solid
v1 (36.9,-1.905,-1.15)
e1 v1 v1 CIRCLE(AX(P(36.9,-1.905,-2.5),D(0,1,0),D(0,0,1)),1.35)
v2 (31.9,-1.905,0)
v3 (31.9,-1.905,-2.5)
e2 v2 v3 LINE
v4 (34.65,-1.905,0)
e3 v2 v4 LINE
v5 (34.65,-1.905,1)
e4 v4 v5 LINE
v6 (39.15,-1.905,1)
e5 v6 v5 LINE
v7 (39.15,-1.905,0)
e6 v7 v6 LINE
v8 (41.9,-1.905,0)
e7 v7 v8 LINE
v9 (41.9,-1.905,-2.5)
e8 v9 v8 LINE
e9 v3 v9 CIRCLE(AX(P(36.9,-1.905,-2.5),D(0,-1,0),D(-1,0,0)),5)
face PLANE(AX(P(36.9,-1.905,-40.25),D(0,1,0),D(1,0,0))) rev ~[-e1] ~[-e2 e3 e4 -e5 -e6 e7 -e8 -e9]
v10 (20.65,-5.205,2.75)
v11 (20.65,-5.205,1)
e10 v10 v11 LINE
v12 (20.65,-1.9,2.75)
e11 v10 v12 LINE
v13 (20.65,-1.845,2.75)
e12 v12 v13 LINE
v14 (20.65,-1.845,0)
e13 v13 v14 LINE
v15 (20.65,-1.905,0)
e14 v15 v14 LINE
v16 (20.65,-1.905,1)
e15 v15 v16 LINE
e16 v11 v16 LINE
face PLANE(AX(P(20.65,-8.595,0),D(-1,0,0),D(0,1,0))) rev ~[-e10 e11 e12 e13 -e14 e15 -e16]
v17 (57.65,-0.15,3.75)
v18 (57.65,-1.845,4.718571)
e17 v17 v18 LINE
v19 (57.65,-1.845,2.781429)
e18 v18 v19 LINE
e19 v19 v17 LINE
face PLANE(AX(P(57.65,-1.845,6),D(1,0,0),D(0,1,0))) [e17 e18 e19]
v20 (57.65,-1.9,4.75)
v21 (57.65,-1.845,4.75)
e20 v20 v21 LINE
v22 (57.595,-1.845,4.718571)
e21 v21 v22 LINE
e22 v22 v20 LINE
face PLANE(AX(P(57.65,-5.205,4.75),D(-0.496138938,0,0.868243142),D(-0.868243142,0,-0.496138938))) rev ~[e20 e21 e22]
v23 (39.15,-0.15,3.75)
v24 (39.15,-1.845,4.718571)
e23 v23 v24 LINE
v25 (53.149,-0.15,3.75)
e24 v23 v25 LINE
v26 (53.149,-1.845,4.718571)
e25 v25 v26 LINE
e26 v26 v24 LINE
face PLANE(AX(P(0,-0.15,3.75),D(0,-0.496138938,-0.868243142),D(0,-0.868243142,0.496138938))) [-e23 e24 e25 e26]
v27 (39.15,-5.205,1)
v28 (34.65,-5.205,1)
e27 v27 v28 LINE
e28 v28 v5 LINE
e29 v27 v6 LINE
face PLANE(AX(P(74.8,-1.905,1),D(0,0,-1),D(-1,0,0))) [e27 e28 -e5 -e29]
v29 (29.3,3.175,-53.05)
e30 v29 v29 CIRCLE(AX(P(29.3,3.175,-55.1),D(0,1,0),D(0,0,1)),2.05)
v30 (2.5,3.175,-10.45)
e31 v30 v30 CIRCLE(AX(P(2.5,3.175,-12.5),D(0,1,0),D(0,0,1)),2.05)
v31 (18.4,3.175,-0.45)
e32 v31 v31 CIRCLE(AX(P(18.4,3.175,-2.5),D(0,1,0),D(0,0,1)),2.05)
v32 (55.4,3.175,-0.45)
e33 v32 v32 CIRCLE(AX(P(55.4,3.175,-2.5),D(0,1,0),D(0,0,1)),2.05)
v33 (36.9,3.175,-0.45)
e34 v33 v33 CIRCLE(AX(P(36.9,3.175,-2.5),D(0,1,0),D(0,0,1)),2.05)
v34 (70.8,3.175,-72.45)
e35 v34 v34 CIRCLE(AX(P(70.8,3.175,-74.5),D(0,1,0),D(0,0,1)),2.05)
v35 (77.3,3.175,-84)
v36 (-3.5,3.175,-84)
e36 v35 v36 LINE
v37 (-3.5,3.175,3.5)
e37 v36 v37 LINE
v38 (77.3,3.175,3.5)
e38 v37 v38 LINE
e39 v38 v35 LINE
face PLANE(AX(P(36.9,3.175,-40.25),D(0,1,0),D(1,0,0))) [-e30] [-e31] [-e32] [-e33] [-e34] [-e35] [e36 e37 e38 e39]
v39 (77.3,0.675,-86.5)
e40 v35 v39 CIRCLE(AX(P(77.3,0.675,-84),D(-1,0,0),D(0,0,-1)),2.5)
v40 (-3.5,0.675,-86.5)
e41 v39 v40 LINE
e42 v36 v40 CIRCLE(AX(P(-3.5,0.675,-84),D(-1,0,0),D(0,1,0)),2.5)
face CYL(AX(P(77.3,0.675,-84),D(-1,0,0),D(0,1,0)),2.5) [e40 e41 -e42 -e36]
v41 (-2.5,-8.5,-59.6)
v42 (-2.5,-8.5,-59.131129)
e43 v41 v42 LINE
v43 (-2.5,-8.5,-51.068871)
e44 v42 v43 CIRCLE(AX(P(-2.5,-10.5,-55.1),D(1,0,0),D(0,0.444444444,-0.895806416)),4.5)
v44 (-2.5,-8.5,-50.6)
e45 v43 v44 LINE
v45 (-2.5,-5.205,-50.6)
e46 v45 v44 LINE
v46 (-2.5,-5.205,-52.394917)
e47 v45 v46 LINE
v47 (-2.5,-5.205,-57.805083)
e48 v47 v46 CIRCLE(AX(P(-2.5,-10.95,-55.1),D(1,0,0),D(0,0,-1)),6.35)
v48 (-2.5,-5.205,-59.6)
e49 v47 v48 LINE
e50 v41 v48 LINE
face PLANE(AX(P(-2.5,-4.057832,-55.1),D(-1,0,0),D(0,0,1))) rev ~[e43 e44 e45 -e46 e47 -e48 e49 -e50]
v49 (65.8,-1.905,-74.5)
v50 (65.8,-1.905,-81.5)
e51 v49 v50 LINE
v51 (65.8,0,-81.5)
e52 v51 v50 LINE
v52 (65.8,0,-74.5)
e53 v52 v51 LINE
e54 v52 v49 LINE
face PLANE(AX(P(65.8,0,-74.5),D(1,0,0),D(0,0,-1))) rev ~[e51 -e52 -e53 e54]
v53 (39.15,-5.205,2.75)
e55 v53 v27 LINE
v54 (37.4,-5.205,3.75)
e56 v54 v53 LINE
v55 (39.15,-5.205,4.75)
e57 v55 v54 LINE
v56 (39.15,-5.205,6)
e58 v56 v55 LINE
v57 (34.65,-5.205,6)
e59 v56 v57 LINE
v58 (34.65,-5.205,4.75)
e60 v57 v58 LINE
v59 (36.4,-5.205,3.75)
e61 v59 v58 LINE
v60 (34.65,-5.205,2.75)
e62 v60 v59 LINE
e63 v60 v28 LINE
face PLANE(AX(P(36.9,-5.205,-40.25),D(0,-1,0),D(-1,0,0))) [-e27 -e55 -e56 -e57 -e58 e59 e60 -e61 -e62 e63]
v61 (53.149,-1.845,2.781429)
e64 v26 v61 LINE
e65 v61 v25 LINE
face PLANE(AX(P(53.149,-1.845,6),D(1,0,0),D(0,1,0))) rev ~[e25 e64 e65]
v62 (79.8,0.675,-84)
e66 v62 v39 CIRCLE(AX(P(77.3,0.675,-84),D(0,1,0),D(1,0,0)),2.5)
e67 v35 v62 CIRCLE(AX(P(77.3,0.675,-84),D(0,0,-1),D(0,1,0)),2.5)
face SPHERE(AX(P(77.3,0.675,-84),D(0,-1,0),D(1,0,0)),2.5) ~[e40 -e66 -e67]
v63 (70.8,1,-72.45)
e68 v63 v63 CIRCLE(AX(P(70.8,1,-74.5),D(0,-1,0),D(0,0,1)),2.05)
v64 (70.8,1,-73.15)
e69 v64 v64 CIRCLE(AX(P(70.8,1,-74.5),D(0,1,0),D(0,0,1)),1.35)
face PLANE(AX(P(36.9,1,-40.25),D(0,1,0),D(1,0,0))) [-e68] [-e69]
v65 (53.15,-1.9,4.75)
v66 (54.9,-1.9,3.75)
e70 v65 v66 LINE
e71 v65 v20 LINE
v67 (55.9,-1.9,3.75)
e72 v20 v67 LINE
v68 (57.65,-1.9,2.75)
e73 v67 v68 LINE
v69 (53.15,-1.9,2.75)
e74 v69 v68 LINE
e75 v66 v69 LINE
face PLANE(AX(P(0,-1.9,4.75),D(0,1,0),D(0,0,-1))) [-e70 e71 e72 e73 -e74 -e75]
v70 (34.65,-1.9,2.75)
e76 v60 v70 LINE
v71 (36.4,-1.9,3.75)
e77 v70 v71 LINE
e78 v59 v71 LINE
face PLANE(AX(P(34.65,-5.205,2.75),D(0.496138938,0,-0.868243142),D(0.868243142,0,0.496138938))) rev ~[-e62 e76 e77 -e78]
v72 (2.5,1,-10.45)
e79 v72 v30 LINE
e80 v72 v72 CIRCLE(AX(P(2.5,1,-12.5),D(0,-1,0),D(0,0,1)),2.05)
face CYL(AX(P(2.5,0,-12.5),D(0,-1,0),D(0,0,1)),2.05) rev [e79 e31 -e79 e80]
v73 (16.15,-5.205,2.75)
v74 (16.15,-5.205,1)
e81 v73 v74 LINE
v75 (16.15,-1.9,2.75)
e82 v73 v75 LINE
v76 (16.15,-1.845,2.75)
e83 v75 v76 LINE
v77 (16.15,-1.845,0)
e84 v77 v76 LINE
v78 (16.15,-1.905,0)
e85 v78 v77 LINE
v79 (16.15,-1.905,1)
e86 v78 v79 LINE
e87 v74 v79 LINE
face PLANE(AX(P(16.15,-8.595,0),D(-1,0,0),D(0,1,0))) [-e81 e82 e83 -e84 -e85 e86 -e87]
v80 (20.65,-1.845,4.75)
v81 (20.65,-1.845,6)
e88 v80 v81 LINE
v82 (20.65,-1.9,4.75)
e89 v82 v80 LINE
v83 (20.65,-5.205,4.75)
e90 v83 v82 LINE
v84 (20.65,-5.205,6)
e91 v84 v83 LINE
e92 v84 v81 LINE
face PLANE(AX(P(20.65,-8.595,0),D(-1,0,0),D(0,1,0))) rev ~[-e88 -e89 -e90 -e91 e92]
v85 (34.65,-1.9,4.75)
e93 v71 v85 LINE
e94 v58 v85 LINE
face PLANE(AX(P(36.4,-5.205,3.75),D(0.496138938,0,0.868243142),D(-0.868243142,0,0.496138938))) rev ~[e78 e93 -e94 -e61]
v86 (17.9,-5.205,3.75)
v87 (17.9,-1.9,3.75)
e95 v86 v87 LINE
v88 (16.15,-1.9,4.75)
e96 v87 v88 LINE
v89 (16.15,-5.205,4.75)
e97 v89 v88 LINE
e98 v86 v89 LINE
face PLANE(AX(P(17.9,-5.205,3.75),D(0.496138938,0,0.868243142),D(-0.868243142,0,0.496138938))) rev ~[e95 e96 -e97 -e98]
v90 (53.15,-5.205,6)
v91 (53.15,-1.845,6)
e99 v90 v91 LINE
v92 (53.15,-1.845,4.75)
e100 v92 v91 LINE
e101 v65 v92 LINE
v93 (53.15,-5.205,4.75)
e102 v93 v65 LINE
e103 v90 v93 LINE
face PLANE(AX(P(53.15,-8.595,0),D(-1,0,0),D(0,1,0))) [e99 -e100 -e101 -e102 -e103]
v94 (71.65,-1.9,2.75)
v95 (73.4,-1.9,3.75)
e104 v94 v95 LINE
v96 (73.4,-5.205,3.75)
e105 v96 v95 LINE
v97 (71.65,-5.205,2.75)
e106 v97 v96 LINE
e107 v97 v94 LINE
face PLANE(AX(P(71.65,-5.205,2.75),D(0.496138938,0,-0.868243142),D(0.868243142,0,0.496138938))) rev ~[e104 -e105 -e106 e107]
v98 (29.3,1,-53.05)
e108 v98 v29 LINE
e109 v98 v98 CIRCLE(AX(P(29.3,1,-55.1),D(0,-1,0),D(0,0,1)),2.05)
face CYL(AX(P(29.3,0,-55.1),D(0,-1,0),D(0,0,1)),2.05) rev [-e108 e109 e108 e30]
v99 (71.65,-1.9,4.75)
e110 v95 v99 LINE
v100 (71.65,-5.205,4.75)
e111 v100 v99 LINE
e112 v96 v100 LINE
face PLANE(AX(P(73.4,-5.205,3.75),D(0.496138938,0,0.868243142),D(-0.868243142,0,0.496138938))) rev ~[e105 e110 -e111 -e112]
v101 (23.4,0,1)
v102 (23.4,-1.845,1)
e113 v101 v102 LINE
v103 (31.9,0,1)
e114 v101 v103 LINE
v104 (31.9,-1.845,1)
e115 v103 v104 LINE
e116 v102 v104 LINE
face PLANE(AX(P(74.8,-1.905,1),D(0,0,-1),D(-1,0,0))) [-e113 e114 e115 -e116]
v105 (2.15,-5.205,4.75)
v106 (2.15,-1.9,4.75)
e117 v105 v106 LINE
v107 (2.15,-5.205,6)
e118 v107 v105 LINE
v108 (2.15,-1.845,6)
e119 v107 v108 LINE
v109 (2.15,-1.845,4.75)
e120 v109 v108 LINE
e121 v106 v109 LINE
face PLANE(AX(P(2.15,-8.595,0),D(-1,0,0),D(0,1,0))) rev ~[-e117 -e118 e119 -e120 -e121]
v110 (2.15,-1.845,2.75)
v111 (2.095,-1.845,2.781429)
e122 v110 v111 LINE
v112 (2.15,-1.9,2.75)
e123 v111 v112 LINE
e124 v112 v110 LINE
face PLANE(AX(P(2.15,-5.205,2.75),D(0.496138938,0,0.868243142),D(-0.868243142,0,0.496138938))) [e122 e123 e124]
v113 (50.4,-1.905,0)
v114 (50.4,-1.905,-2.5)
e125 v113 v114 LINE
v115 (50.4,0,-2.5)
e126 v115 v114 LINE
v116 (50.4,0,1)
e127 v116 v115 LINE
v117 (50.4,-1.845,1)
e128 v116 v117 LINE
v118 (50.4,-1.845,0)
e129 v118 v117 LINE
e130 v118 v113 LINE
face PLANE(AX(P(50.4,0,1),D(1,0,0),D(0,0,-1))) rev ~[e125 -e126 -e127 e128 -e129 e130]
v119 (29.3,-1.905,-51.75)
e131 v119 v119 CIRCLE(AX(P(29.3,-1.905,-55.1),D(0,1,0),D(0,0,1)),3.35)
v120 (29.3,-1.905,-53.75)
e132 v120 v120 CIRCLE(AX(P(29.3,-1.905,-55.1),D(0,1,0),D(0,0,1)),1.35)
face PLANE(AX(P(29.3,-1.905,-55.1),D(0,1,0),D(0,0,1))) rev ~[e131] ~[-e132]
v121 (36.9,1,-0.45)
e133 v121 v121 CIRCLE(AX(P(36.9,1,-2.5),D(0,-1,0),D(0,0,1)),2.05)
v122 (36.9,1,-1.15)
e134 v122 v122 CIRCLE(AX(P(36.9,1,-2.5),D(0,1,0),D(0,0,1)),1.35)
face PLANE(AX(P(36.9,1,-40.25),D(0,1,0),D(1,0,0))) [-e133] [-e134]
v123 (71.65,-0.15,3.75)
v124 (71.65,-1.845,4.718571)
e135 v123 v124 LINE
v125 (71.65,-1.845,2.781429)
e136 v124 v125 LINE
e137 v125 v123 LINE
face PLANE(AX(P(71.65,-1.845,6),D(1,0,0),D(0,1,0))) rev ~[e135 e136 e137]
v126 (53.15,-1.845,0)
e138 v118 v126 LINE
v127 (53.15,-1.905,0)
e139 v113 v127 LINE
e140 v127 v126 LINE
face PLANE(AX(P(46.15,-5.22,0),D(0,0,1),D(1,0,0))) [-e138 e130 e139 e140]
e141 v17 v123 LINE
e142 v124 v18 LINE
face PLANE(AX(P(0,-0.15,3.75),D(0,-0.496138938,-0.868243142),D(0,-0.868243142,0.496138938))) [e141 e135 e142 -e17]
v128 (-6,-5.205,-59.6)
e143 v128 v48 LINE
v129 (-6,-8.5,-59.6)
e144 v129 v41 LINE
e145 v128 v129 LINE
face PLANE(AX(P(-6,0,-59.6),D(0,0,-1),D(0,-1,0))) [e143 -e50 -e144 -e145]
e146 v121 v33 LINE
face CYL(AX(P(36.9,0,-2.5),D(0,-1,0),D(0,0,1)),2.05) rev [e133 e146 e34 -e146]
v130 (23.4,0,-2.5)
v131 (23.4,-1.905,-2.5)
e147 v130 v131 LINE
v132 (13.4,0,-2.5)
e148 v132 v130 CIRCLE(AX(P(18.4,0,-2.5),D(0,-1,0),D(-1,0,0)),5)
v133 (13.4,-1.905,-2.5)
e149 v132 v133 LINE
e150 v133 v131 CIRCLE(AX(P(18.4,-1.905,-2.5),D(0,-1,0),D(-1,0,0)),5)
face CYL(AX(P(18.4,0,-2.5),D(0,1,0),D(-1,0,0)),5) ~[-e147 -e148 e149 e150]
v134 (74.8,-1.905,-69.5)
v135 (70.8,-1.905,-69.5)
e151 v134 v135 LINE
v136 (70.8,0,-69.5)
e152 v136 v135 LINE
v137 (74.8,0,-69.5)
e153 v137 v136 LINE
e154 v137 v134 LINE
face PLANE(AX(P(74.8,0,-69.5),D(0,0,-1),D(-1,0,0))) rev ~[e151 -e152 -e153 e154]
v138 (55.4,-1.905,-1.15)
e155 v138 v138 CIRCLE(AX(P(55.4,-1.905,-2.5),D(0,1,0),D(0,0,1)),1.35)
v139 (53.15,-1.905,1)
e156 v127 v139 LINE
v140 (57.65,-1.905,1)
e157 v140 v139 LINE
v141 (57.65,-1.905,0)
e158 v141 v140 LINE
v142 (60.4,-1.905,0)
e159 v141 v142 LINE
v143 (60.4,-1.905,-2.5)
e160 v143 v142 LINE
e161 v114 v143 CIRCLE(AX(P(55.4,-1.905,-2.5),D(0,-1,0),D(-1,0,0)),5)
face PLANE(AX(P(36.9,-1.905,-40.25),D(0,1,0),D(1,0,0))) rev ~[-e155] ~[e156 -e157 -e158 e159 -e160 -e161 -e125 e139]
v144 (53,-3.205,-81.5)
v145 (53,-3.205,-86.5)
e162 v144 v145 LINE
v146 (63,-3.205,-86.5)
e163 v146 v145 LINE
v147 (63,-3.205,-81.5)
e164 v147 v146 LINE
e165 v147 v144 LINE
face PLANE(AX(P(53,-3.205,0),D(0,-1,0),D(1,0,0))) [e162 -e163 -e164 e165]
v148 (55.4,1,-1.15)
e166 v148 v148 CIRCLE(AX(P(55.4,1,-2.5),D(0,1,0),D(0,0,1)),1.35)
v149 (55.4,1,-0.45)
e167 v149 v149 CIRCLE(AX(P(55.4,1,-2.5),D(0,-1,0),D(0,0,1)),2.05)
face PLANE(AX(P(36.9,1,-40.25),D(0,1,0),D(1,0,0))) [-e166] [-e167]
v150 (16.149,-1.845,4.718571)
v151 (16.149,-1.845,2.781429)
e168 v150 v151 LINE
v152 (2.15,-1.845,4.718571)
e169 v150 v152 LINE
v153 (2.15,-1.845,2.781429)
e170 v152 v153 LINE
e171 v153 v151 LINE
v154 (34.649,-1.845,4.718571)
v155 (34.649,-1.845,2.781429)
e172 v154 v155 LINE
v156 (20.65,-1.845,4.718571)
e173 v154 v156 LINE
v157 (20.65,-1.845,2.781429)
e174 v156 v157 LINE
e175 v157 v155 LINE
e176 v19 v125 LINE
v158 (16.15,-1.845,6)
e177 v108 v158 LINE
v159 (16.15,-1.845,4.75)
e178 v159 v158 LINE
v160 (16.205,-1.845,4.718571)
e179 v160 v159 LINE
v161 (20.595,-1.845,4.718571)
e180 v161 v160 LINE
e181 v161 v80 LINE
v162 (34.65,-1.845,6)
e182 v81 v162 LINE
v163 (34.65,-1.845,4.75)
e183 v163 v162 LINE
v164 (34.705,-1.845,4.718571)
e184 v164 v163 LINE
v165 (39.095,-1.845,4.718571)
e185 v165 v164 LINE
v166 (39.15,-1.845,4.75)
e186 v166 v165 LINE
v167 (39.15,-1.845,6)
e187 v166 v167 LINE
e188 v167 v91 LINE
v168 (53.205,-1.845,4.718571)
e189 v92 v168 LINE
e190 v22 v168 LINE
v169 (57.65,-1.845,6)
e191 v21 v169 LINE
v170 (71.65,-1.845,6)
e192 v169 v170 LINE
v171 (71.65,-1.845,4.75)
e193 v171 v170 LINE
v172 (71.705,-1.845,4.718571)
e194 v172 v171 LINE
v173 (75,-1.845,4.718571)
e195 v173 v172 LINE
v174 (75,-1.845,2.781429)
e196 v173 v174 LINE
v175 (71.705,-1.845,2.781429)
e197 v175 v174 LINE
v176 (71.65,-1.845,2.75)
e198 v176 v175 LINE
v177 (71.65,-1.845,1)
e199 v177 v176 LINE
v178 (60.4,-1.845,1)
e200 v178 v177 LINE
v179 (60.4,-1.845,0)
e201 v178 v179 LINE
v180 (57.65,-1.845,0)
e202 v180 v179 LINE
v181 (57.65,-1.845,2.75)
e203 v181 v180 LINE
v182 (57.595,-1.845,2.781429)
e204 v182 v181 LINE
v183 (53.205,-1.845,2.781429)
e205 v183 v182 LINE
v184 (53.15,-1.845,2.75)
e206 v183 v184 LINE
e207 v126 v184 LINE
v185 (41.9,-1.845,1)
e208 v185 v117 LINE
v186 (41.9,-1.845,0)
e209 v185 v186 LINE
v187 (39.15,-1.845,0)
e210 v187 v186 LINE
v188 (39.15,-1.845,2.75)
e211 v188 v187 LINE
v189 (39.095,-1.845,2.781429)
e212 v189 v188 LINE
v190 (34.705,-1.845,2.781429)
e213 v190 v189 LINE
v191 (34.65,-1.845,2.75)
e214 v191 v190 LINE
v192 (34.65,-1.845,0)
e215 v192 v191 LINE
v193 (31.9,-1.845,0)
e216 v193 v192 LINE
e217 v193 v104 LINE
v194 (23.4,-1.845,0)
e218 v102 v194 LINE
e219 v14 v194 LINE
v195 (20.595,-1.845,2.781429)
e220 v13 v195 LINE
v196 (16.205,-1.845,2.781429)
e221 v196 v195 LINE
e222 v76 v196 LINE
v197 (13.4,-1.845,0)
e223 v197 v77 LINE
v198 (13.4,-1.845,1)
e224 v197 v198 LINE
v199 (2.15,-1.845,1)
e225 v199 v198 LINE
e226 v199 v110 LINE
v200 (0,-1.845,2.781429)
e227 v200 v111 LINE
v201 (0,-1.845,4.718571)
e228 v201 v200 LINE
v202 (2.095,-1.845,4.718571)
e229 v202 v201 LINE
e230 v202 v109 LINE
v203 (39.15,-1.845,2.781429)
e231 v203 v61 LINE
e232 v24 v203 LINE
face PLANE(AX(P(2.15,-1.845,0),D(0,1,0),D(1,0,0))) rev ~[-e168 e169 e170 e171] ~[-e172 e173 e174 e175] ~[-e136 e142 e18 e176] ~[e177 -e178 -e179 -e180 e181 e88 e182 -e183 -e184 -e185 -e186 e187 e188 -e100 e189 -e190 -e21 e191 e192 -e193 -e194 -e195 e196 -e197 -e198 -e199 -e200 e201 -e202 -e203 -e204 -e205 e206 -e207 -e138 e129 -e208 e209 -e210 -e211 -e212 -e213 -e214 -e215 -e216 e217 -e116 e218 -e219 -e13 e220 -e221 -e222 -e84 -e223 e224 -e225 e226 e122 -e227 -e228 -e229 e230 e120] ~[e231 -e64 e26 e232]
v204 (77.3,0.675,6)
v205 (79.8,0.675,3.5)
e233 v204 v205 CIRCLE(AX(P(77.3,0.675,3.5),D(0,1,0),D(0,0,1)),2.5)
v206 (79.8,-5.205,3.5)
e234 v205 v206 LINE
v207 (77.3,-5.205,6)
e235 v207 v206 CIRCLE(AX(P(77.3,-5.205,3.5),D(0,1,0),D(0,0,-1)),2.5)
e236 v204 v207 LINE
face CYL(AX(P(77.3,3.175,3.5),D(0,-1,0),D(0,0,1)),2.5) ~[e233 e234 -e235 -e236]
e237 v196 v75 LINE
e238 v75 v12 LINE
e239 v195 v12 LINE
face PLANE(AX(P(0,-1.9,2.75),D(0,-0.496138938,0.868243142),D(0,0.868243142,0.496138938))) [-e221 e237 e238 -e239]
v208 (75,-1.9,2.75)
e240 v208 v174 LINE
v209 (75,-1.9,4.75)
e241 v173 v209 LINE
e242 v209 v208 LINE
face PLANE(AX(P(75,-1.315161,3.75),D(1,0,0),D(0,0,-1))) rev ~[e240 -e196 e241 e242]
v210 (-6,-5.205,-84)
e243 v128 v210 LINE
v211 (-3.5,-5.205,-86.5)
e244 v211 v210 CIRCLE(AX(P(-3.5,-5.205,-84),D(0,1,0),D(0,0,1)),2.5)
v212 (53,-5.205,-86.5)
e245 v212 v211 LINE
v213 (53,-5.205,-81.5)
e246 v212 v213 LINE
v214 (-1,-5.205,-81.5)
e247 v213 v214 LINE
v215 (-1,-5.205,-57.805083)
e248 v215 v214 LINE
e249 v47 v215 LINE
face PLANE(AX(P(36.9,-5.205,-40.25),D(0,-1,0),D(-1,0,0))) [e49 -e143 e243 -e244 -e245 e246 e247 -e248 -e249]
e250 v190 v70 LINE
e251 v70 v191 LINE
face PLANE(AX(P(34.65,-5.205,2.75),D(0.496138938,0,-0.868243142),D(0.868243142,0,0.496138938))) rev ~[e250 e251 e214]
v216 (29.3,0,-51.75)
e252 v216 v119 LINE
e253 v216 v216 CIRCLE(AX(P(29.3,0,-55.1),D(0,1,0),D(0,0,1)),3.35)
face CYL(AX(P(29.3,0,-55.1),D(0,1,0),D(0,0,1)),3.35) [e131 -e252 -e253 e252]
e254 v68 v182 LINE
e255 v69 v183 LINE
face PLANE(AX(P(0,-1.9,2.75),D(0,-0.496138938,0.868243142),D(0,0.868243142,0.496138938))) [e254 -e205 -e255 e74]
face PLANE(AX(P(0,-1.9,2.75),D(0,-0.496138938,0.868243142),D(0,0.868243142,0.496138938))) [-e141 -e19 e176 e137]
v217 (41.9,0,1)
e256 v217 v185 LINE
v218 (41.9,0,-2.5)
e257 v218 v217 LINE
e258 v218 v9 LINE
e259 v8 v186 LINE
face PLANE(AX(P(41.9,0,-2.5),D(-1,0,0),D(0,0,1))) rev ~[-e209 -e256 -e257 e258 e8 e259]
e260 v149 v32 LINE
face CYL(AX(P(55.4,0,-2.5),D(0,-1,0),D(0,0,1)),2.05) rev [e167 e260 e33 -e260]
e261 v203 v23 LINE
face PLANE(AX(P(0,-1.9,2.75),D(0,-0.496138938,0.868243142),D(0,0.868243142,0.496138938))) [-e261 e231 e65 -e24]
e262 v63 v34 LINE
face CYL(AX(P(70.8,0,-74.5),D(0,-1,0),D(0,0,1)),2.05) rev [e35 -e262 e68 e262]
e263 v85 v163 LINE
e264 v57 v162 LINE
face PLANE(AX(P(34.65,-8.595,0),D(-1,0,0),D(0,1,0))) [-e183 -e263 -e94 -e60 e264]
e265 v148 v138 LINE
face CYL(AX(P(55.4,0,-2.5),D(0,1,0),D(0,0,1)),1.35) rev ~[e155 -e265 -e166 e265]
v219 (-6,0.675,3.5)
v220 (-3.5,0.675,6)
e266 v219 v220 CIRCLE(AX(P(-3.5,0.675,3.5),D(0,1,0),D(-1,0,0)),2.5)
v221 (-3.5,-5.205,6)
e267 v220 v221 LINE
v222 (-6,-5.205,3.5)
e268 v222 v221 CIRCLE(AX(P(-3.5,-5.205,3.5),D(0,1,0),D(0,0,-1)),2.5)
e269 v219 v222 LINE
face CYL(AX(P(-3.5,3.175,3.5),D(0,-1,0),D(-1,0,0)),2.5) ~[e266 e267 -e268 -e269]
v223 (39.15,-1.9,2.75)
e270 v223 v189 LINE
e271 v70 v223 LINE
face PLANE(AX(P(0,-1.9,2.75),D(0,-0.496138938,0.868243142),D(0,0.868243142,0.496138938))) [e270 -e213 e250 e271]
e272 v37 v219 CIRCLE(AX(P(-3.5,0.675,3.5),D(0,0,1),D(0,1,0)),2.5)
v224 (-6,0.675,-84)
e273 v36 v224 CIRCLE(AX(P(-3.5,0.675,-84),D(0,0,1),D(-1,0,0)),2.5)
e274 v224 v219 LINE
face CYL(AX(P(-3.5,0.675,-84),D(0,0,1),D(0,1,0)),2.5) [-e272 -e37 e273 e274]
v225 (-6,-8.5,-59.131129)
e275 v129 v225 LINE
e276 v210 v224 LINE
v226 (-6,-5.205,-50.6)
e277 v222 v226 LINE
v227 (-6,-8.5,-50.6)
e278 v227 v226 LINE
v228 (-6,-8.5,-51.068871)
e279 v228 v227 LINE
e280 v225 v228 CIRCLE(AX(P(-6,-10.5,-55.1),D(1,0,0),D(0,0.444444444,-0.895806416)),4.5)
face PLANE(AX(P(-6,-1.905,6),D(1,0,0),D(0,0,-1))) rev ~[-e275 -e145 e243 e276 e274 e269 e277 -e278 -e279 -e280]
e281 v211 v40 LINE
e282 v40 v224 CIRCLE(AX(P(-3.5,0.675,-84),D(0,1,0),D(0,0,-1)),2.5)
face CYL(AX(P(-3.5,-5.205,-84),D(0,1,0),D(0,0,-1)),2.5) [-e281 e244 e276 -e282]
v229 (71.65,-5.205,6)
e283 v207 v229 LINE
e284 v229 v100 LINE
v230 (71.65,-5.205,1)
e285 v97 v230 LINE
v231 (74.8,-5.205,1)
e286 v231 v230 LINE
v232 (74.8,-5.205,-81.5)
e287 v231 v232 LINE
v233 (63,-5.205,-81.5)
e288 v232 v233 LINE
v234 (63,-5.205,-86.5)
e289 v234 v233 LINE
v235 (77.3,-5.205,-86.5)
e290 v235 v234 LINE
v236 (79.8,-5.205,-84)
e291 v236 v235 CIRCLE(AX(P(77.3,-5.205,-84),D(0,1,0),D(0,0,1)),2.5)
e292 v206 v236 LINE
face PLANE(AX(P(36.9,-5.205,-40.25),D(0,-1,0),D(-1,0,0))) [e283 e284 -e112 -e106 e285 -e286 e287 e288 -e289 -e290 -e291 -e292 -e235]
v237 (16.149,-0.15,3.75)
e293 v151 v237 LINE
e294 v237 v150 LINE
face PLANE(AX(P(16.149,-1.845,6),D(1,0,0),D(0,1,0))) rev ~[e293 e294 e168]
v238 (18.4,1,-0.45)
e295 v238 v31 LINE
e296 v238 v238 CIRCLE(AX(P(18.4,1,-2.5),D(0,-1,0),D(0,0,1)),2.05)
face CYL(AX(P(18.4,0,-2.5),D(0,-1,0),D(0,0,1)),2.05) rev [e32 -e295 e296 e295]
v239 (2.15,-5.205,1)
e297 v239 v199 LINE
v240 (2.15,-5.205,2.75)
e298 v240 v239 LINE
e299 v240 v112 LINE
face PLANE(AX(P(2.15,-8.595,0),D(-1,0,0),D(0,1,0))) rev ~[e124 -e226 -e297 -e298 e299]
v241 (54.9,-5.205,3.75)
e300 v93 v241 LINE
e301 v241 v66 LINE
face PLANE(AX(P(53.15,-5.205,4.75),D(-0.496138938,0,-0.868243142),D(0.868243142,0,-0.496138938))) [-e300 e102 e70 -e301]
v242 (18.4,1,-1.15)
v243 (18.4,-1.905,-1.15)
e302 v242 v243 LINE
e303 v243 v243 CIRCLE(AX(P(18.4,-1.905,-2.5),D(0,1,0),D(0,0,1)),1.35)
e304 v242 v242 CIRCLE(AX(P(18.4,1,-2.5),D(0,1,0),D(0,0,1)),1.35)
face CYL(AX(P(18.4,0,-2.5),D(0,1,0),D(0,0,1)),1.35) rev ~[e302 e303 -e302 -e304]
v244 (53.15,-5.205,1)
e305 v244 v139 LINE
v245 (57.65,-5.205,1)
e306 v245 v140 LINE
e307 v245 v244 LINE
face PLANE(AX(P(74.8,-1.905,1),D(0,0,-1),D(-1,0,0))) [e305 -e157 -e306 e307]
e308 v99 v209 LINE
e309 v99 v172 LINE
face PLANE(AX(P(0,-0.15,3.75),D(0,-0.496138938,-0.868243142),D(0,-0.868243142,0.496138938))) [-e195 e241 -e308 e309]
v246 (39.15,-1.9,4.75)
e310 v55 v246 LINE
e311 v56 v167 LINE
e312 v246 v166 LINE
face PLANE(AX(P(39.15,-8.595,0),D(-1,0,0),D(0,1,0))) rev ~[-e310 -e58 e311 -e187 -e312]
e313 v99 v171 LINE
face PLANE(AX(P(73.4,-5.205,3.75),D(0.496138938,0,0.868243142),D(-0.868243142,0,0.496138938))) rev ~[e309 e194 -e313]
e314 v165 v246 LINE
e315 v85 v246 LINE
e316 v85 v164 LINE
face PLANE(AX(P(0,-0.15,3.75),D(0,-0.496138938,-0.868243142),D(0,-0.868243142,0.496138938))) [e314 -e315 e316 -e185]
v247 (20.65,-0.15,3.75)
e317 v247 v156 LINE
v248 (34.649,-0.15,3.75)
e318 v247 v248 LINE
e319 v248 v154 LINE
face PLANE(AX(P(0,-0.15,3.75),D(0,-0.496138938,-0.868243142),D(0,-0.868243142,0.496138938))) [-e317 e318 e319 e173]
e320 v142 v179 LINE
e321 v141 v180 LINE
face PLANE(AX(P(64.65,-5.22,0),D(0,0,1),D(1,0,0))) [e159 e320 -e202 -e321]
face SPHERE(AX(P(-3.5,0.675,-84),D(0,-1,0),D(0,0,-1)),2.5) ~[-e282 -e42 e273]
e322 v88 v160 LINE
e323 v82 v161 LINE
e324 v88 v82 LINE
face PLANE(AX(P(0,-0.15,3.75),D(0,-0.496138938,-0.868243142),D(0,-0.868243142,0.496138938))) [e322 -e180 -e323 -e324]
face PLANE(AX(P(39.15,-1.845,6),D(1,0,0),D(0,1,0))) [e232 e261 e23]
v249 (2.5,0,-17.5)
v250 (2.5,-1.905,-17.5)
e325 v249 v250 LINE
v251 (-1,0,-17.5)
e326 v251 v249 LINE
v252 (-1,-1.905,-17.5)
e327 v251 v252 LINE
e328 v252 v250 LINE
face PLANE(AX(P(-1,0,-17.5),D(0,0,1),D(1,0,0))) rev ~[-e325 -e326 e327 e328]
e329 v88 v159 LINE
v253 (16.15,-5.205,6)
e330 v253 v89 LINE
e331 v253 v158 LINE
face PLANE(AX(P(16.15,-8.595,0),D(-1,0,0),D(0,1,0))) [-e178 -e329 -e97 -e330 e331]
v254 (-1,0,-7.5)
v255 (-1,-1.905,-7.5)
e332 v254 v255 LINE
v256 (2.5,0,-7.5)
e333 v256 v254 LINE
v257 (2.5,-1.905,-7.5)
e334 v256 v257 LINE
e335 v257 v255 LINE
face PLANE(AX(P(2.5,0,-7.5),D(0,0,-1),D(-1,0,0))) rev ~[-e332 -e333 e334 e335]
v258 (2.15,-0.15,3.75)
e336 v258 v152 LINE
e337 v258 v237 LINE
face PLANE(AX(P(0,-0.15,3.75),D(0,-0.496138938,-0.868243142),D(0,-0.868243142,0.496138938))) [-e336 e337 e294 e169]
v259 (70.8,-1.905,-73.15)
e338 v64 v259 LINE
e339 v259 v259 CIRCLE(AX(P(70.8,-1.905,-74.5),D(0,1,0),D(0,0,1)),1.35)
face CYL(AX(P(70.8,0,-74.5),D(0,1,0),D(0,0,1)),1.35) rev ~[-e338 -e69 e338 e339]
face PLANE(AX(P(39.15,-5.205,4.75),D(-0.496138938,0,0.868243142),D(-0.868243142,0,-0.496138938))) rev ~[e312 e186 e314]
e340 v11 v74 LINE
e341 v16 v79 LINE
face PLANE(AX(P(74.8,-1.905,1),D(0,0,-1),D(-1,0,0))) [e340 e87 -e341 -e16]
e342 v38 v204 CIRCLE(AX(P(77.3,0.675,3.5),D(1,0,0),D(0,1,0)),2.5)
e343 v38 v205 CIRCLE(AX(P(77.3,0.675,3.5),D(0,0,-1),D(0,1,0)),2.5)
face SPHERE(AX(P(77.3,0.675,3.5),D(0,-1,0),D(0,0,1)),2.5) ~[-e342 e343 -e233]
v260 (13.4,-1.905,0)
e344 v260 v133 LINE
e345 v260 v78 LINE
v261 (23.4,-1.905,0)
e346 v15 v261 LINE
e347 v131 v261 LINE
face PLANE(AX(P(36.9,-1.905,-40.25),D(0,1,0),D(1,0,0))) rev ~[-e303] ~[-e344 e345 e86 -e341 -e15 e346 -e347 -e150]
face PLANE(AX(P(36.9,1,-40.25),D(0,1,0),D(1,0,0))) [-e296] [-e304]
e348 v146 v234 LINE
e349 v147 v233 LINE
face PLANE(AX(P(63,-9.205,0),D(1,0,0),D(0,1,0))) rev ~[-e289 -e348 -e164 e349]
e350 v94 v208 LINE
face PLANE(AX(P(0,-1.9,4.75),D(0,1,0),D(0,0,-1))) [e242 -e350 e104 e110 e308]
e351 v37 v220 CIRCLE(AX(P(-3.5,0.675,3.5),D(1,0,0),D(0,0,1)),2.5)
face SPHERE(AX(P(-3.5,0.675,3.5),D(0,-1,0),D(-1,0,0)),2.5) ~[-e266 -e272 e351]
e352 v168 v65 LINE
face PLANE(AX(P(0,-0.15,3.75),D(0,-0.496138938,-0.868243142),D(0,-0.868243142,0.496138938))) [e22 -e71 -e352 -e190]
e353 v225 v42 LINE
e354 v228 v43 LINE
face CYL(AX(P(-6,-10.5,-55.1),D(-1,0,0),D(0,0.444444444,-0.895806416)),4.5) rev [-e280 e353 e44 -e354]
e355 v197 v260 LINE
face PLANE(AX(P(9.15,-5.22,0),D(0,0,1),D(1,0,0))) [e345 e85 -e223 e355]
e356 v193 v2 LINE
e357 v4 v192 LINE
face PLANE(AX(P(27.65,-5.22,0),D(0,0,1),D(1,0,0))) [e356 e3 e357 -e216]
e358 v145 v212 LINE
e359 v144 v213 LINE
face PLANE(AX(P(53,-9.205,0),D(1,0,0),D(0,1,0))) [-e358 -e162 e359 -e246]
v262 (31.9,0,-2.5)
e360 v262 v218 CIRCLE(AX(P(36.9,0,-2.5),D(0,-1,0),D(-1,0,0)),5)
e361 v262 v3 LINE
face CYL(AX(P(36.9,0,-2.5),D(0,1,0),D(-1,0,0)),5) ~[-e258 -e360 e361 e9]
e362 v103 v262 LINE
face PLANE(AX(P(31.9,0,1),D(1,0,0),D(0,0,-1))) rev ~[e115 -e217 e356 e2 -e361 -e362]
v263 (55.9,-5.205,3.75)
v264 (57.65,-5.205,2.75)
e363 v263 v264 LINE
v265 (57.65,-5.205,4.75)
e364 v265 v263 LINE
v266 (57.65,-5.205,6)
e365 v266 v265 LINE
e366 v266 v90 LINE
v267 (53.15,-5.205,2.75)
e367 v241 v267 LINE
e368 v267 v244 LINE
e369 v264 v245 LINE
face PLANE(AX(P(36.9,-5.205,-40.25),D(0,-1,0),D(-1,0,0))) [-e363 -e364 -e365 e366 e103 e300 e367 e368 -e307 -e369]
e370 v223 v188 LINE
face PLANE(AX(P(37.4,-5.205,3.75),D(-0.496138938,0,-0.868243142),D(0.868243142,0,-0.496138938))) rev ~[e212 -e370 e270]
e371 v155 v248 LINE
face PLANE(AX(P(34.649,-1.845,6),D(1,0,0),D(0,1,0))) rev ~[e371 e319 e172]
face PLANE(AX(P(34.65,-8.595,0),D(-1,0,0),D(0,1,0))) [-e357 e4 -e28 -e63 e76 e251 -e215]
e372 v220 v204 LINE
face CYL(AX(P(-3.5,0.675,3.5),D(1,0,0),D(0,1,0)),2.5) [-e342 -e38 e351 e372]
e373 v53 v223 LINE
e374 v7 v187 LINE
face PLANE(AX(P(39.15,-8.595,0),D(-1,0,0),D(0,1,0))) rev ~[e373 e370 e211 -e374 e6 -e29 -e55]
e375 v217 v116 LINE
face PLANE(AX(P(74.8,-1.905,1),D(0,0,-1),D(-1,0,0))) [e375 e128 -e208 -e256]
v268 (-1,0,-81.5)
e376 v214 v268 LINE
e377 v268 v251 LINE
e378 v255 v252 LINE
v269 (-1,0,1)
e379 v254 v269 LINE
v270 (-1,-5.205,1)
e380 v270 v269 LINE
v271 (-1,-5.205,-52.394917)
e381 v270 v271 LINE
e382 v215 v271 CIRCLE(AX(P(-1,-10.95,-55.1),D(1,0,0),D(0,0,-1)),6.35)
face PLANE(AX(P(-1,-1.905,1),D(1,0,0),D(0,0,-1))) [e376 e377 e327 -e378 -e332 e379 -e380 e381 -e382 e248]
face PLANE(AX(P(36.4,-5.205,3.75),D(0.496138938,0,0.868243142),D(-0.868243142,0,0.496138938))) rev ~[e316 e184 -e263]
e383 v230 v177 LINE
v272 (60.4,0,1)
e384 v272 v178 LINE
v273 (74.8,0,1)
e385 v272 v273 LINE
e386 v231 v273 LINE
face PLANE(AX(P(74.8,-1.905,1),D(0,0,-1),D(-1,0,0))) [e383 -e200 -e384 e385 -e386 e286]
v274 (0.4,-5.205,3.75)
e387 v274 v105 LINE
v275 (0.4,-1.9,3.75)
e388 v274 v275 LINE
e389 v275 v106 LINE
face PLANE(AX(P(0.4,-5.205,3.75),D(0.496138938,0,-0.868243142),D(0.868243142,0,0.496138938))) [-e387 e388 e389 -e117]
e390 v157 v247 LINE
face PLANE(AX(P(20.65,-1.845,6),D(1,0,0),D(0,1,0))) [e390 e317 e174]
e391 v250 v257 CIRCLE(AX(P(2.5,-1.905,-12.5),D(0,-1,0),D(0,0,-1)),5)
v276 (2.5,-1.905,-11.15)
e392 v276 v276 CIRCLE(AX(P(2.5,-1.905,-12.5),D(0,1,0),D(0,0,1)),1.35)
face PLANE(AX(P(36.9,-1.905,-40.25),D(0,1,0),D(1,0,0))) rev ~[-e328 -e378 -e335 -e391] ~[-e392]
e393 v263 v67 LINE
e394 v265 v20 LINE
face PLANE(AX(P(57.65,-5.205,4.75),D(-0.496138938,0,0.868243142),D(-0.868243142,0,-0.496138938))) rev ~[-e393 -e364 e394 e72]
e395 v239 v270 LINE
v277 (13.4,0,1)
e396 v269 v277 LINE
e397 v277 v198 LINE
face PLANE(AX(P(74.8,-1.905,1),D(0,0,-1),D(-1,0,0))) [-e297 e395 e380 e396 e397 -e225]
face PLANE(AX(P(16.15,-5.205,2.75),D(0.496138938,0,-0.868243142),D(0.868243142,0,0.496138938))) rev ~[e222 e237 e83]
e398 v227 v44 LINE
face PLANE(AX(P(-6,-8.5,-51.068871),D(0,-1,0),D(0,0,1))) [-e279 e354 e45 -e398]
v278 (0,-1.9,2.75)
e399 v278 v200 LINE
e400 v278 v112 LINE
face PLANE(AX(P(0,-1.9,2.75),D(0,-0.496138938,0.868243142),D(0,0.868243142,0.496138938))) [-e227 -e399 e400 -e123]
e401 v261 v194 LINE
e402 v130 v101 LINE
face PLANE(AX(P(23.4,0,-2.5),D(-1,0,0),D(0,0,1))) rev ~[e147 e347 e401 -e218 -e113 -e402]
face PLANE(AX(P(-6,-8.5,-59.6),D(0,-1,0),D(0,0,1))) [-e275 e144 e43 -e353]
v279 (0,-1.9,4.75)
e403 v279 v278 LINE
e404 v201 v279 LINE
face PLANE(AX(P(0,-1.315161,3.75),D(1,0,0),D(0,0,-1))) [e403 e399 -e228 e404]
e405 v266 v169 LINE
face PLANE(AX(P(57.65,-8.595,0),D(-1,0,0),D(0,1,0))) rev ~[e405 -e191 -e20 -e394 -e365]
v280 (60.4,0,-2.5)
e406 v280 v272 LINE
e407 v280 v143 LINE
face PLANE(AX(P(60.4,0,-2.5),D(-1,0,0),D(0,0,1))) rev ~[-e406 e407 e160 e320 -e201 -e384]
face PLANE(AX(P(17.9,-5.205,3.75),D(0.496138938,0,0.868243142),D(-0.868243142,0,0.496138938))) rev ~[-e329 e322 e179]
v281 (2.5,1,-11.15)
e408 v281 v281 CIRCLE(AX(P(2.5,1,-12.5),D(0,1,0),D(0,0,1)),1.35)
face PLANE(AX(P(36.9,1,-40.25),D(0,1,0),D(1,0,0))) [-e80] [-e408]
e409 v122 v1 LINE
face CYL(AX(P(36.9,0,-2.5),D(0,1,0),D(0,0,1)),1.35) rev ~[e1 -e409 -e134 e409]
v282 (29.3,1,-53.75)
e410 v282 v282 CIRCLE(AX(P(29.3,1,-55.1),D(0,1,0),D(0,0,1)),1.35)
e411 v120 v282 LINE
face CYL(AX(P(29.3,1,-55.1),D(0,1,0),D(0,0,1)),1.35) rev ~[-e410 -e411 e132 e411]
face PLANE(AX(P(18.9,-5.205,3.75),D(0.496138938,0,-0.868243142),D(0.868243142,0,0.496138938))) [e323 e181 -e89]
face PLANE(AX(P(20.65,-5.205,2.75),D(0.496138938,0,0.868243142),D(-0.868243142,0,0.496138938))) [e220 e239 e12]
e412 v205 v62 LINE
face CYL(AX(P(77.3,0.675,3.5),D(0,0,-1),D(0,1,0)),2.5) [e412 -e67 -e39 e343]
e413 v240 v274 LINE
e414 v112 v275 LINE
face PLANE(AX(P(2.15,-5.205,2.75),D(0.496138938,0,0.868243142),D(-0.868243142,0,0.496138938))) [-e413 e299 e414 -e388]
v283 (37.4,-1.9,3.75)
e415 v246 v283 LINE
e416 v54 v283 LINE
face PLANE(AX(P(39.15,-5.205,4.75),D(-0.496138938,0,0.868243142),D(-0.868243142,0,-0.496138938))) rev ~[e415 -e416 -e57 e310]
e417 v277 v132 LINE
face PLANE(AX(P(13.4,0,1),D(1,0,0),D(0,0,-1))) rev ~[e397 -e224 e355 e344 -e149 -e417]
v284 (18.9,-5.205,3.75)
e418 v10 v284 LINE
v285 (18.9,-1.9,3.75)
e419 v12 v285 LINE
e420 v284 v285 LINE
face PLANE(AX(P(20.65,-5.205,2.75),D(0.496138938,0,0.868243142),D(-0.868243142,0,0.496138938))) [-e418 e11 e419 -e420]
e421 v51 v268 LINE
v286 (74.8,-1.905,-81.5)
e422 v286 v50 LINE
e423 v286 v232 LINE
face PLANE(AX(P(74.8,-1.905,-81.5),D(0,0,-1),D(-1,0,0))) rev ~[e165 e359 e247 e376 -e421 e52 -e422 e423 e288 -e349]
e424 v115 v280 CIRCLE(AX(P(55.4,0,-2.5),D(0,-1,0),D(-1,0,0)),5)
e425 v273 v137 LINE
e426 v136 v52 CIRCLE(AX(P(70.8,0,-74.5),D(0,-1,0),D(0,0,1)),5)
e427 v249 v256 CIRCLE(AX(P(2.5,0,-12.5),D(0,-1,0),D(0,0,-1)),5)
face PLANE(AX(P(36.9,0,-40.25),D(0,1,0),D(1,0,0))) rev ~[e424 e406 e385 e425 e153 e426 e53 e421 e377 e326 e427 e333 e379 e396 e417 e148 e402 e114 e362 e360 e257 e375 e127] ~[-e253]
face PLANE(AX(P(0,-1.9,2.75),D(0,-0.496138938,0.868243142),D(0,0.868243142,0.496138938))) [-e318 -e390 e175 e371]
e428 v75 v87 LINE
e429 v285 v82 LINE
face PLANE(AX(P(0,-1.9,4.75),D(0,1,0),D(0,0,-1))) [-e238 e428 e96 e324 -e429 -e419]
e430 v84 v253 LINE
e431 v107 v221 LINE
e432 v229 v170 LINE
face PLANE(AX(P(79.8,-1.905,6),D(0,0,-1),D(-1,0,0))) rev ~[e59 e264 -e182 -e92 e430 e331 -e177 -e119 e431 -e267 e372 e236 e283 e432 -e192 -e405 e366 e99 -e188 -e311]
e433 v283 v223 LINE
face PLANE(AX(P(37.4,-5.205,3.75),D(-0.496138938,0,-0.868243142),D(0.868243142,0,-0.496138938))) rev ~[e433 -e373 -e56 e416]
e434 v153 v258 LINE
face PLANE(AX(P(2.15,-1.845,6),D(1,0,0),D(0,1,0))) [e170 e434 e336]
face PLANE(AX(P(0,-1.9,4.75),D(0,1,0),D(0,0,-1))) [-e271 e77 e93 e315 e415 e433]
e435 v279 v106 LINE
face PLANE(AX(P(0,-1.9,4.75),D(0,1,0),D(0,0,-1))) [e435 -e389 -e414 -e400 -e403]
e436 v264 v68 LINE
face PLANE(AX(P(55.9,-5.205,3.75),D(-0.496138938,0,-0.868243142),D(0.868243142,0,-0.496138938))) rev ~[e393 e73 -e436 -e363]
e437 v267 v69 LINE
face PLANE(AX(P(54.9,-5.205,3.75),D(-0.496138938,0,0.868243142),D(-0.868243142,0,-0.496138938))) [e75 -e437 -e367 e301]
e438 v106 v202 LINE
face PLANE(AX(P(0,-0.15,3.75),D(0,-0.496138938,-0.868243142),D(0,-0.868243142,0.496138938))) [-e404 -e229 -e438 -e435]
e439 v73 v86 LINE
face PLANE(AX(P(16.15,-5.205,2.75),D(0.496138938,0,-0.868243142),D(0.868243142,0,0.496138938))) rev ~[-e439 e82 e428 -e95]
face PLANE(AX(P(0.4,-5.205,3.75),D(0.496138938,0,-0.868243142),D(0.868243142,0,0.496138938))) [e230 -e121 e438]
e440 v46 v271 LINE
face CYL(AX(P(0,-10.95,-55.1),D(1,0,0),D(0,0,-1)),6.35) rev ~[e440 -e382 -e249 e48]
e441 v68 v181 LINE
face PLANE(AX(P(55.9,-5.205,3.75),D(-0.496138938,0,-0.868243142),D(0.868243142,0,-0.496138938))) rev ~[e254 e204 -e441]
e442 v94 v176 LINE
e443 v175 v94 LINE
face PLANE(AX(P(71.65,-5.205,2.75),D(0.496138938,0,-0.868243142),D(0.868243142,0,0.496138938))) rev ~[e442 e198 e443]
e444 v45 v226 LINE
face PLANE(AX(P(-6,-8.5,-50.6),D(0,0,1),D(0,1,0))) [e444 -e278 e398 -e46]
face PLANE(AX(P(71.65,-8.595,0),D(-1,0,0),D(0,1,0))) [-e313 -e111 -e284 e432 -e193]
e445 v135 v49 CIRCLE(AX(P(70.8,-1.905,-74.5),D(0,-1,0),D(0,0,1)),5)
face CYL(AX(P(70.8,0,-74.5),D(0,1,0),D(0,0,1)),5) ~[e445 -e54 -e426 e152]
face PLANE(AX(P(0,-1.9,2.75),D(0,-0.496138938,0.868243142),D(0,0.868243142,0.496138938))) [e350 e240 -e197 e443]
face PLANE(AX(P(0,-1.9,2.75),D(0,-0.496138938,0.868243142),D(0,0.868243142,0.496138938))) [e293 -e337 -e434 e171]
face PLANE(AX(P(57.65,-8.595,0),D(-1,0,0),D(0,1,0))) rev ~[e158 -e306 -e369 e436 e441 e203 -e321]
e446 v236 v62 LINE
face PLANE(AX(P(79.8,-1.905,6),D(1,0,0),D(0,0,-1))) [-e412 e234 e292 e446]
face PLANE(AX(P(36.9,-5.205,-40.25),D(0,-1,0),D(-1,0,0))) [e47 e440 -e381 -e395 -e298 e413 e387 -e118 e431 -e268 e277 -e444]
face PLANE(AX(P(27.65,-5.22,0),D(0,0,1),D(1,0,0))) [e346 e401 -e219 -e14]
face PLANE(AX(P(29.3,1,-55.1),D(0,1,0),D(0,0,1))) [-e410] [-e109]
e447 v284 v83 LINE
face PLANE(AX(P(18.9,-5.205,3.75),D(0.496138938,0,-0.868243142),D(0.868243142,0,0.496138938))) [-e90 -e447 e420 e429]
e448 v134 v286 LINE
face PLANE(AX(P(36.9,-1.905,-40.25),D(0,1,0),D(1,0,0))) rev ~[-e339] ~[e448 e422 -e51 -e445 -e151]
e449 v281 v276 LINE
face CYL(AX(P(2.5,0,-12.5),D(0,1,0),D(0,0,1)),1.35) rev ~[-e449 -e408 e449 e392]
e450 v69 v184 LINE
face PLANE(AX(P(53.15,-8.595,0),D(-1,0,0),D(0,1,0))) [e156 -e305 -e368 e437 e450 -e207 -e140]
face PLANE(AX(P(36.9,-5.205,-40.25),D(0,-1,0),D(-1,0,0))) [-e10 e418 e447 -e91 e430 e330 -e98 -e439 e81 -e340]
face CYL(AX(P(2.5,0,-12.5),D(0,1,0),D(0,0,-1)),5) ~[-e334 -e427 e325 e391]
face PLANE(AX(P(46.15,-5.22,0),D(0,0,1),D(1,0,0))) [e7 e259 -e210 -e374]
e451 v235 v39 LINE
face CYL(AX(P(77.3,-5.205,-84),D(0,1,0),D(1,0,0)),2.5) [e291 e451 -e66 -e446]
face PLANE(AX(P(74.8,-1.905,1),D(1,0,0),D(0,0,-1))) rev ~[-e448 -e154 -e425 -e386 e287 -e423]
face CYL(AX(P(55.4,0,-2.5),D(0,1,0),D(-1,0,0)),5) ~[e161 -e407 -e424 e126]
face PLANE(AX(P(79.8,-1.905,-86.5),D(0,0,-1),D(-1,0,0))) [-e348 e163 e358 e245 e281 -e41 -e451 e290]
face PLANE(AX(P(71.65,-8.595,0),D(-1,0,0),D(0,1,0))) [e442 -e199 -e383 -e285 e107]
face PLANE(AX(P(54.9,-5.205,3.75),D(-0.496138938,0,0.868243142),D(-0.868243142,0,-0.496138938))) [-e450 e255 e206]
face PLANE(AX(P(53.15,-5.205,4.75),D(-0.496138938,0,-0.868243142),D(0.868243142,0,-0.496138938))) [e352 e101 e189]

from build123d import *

# Parameters (mm, degrees)
SKETCH1_W           = 85.8
SKETCH1_H           = 92.5
SKETCH1_R           = 2.05
BOSS_EXTRUDE1_DEPTH = 3.175
SKETCH2_W           = 85.8
SKETCH2_H           = 92.5
SKETCH2_R           = 1.35
SKETCH2_R_2         = 3.35
BOSS_EXTRUDE2_DEPTH = 1.905
BOSS_EXTRUDE3_START = 1
SKETCH2_3_W         = 85.8
SKETCH2_3_H         = 92.5
SKETCH2_3_R         = 1.35
SKETCH2_3_R_2       = 3.35
BOSS_EXTRUDE3_DEPTH = 1
SKETCH3_W           = 85.8
SKETCH3_H           = 92.5
SKETCH3_W_2         = 75.8
SKETCH3_H_2         = 82.5
BOSS_EXTRUDE4_DEPTH = 3.3
SKETCH4_W           = 14
SKETCH4_H           = 6.75
CUT_EXTRUDE1_DEPTH  = 118.802300593
SKETCH5_W           = 10
SKETCH5_H           = 6
CUT_EXTRUDE2_DEPTH  = 118.802300593
BOSS_EXTRUDE5_DEPTH = 3.5
FILLET1_R           = 2.5
FILLET2_R           = 2.5
FILLET3_R           = 2.5
FILLET4_R           = 2.5
FILLET5_R           = 2.5
CUT_EXTRUDE3_DEPTH  = 3.36
CUT_EXTRUDE4_DEPTH  = 75
SKETCH10_W          = 4.501
SKETCH10_H          = 2
BOSS_EXTRUDE6_DEPTH = 5
SKETCH13_R          = 6.35
CUT_EXTRUDE5_DEPTH  = 2.5


with BuildPart() as part:
    # Sketch1 → Boss-Extrude1 (new body)
    with BuildSketch(Plane(origin=(0, 0, 0), x_dir=(1, 0, 0), z_dir=(0, 1, 0))):
        with Locations((36.9, 40.25)):
            Rectangle(SKETCH1_W, SKETCH1_H)
        with Locations((2.5, 12.5)):
            Circle(SKETCH1_R, mode=Mode.SUBTRACT)
        with Locations((18.4, 2.5)):
            Circle(SKETCH1_R, mode=Mode.SUBTRACT)
        with Locations((36.9, 2.5)):
            Circle(SKETCH1_R, mode=Mode.SUBTRACT)
        with Locations((55.4, 2.5)):
            Circle(SKETCH1_R, mode=Mode.SUBTRACT)
        with Locations((29.3, 55.1)):
            Circle(SKETCH1_R, mode=Mode.SUBTRACT)
        with Locations((70.8, 74.5)):
            Circle(SKETCH1_R, mode=Mode.SUBTRACT)
    extrude(amount=BOSS_EXTRUDE1_DEPTH)

    # Sketch2 → Boss-Extrude2 (add)
    # profile 1 of 2: a face of its own
    with BuildSketch(Plane(origin=(0, 0, 0), x_dir=(1, 0, 0), z_dir=(0, 1, 0))):
        with Locations((36.9, 40.25)):
            Rectangle(SKETCH2_W, SKETCH2_H)
        with Locations((2.5, 12.5)):
            Circle(SKETCH2_R, mode=Mode.SUBTRACT)
        with Locations((18.4, 2.5)):
            Circle(SKETCH2_R, mode=Mode.SUBTRACT)
        with Locations((36.9, 2.5)):
            Circle(SKETCH2_R, mode=Mode.SUBTRACT)
        with Locations((55.4, 2.5)):
            Circle(SKETCH2_R, mode=Mode.SUBTRACT)
        with BuildLine():
            Line((-1, 7.5), (2.5, 7.5))
            ThreePointArc((2.5, 7.5), (7.5, 12.5), (2.5, 17.5))
            Line((2.5, 17.5), (-1, 17.5))
            Line((-1, 17.5), (-1, 81.5))
            Line((-1, 81.5), (65.8, 81.5))
            Line((65.8, 81.5), (65.8, 74.5))
            ThreePointArc((65.8, 74.5), (67.264466094, 70.964466094), (70.8, 69.5))
            Line((70.8, 69.5), (74.8, 69.5))
            Line((74.8, 69.5), (74.8, -1))
            Line((74.8, -1), (60.4, -1))
            Line((60.4, -1), (60.4, 2.5))
            ThreePointArc((60.4, 2.5), (55.4, 7.5), (50.4, 2.5))
            Line((50.4, 2.5), (50.4, -1))
            Line((50.4, -1), (41.9, -1))
            Line((41.9, -1), (41.9, 2.5))
            ThreePointArc((41.9, 2.5), (36.9, 7.5), (31.9, 2.5))
            Line((31.9, 2.5), (31.9, -1))
            Line((31.9, -1), (23.4, -1))
            Line((23.4, -1), (23.4, 2.5))
            ThreePointArc((23.4, 2.5), (18.4, 7.5), (13.4, 2.5))
            Line((13.4, 2.5), (13.4, -1))
            Line((13.4, -1), (-1, -1))
            Line((-1, -1), (-1, 7.5))
        make_face(mode=Mode.SUBTRACT)
        with Locations((70.8, 74.5)):
            Circle(SKETCH2_R, mode=Mode.SUBTRACT)
    # profile 2 of 2: a face of its own
    with BuildSketch(Plane(origin=(0, 0, 0), x_dir=(1, 0, 0), z_dir=(0, 1, 0))):
        with Locations((29.3, 55.1)):
            Circle(SKETCH2_R_2)
        with Locations((29.3, 55.1)):
            Circle(SKETCH2_R, mode=Mode.SUBTRACT)
    extrude(amount=-BOSS_EXTRUDE2_DEPTH)

    # Sketch2<3> → Boss-Extrude3 (add)
    # profile 1 of 2: a face of its own
    with BuildSketch(Plane(origin=(0, 0, 0), x_dir=(1, 0, 0), z_dir=(0, 1, 0)).offset(BOSS_EXTRUDE3_START)):
        with Locations((36.9, 40.25)):
            Rectangle(SKETCH2_3_W, SKETCH2_3_H)
        with Locations((2.5, 12.5)):
            Circle(SKETCH2_3_R, mode=Mode.SUBTRACT)
        with Locations((18.4, 2.5)):
            Circle(SKETCH2_3_R, mode=Mode.SUBTRACT)
        with Locations((36.9, 2.5)):
            Circle(SKETCH2_3_R, mode=Mode.SUBTRACT)
        with Locations((55.4, 2.5)):
            Circle(SKETCH2_3_R, mode=Mode.SUBTRACT)
        with BuildLine():
            Line((-1, 7.5), (2.5, 7.5))
            ThreePointArc((2.5, 7.5), (7.5, 12.5), (2.5, 17.5))
            Line((2.5, 17.5), (-1, 17.5))
            Line((-1, 17.5), (-1, 81.5))
            Line((-1, 81.5), (65.8, 81.5))
            Line((65.8, 81.5), (65.8, 74.5))
            ThreePointArc((65.8, 74.5), (67.264466094, 70.964466094), (70.8, 69.5))
            Line((70.8, 69.5), (74.8, 69.5))
            Line((74.8, 69.5), (74.8, -1))
            Line((74.8, -1), (60.4, -1))
            Line((60.4, -1), (60.4, 2.5))
            ThreePointArc((60.4, 2.5), (55.4, 7.5), (50.4, 2.5))
            Line((50.4, 2.5), (50.4, -1))
            Line((50.4, -1), (41.9, -1))
            Line((41.9, -1), (41.9, 2.5))
            ThreePointArc((41.9, 2.5), (36.9, 7.5), (31.9, 2.5))
            Line((31.9, 2.5), (31.9, -1))
            Line((31.9, -1), (23.4, -1))
            Line((23.4, -1), (23.4, 2.5))
            ThreePointArc((23.4, 2.5), (18.4, 7.5), (13.4, 2.5))
            Line((13.4, 2.5), (13.4, -1))
            Line((13.4, -1), (-1, -1))
            Line((-1, -1), (-1, 7.5))
        make_face(mode=Mode.SUBTRACT)
        with Locations((70.8, 74.5)):
            Circle(SKETCH2_3_R, mode=Mode.SUBTRACT)
    # profile 2 of 2: a face of its own
    with BuildSketch(Plane(origin=(0, 0, 0), x_dir=(1, 0, 0), z_dir=(0, 1, 0)).offset(BOSS_EXTRUDE3_START)):
        with Locations((29.3, 55.1)):
            Circle(SKETCH2_3_R_2)
        with Locations((29.3, 55.1)):
            Circle(SKETCH2_3_R, mode=Mode.SUBTRACT)
    extrude(amount=-BOSS_EXTRUDE3_DEPTH)

    # Sketch3 → Boss-Extrude4 (add)
    with BuildSketch(Plane(origin=(0, -1.905, 0), x_dir=(-1, 0, 0), z_dir=(0, -1, 0))):
        with Locations((-36.9, 40.25)):
            Rectangle(SKETCH3_W, SKETCH3_H)
        with Locations((-36.9, 40.25)):
            Rectangle(SKETCH3_W_2, SKETCH3_H_2, mode=Mode.SUBTRACT)
    extrude(amount=BOSS_EXTRUDE4_DEPTH)

    # Sketch4 → Cut-Extrude1 (cut, through all)
    with BuildSketch(Plane.XY):
        with Locations((9.15, -5.22)):
            Rectangle(SKETCH4_W, SKETCH4_H)
        with Locations((27.65, -5.22)):
            Rectangle(SKETCH4_W, SKETCH4_H)
        with Locations((46.15, -5.22)):
            Rectangle(SKETCH4_W, SKETCH4_H)
        with Locations((64.65, -5.22)):
            Rectangle(SKETCH4_W, SKETCH4_H)
    extrude(amount=CUT_EXTRUDE1_DEPTH, mode=Mode.SUBTRACT)

    # Sketch5 → Cut-Extrude2 (cut, through all)
    with BuildSketch(Plane.XY):
        with Locations((58, -6.205)):
            Rectangle(SKETCH5_W, SKETCH5_H)
    extrude(amount=-CUT_EXTRUDE2_DEPTH, mode=Mode.SUBTRACT)

    # Sketch6 → Boss-Extrude5 (add)
    with BuildSketch(Plane.ZY.offset(6)):
        with BuildLine():
            Line((-59.6, 0), (-59.6, -8.5))
            Line((-59.6, -8.5), (-59.131128874, -8.5))
            ThreePointArc((-59.131128874, -8.5), (-55.1, -6), (-51.068871126, -8.5))
            Line((-51.068871126, -8.5), (-50.6, -8.5))
            Line((-50.6, -8.5), (-50.6, 0))
            Line((-50.6, 0), (-59.6, 0))
        make_face()
    extrude(amount=-BOSS_EXTRUDE5_DEPTH)

    # Fillet1
    fillet1_edges = [part.edges().sort_by_distance(p)[0] for p in [
        (79.8, -1.015, 6),
    ]]
    fillet(fillet1_edges, radius=FILLET1_R)

    # Fillet2
    fillet2_edges = [part.edges().sort_by_distance(p)[0] for p in [
        (79.8, -1.015, -86.5),
    ]]
    fillet(fillet2_edges, radius=FILLET2_R)

    # Fillet3
    fillet3_edges = [part.edges().sort_by_distance(p)[0] for p in [
        (-6, -1.015, -86.5),
    ]]
    fillet(fillet3_edges, radius=FILLET3_R)

    # Fillet4
    fillet4_edges = [part.edges().sort_by_distance(p)[0] for p in [
        (-6, -1.015, 6),
    ]]
    fillet(fillet4_edges, radius=FILLET4_R)

    # Fillet5
    fillet5_edges = [part.edges().sort_by_distance(p)[0] for p in [
        (79.067766953, 3.175, -85.767766953),
        (79.8, 3.175, -40.25),
        (79.067766953, 3.175, 5.267766953),
        (36.9, 3.175, 6),
        (-5.267766953, 3.175, 5.267766953),
        (-6, 3.175, -40.25),
        (-5.267766953, 3.175, -85.767766953),
        (36.9, 3.175, -86.5),
    ]]
    fillet(fillet5_edges, radius=FILLET5_R)

    # Sketch7 → Cut-Extrude3 (cut)
    with BuildSketch(Plane(origin=(0, -5.205, 0), x_dir=(-1, 0, 0), z_dir=(0, -1, 0))):
        Polygon((-2.15, -2.75), (-0.4, -3.75), (-2.15, -4.75), align=None)
        Polygon((-16.15, -2.75), (-17.9, -3.75), (-16.15, -4.75), align=None)
        Polygon((-20.65, -2.75), (-18.9, -3.75), (-20.65, -4.75), align=None)
        Polygon((-34.65, -2.75), (-36.4, -3.75), (-34.65, -4.75), align=None)
        Polygon((-39.15, -2.75), (-39.15, -4.75), (-37.4, -3.75), align=None)
        Polygon((-53.15, -2.75), (-53.15, -4.75), (-54.9, -3.75), align=None)
        Polygon((-57.65, -4.75), (-55.9, -3.75), (-57.65, -2.75), align=None)
        Polygon((-71.65, -2.75), (-73.4, -3.75), (-71.65, -4.75), align=None)
    extrude(amount=-CUT_EXTRUDE3_DEPTH, mode=Mode.SUBTRACT)

    # Sketch8 → Cut-Extrude4 (cut)
    with BuildSketch(Plane(origin=(0, 0, 0), x_dir=(0, 0, -1), z_dir=(1, 0, 0))):
        Polygon((-4.75, -1.9), (-2.75, -1.9), (-3.75, -0.15), align=None)
    extrude(amount=CUT_EXTRUDE4_DEPTH, mode=Mode.SUBTRACT)

    # Sketch10 → Boss-Extrude6 (add)
    with BuildSketch(Plane.XY.offset(6)):
        with Locations((-0.1005, -0.845)):
            Rectangle(SKETCH10_W, SKETCH10_H)
        with Locations((18.3995, -0.845)):
            Rectangle(SKETCH10_W, SKETCH10_H)
        with Locations((36.8995, -0.845)):
            Rectangle(SKETCH10_W, SKETCH10_H)
        with Locations((55.3995, -0.845)):
            Rectangle(SKETCH10_W, SKETCH10_H)
        with Locations((73.9005, -0.845)):
            Rectangle(SKETCH10_W, SKETCH10_H)
    extrude(amount=-BOSS_EXTRUDE6_DEPTH)

    # Sketch13 → Cut-Extrude5 (cut)
    with BuildSketch(Plane(origin=(0, 0, 0), x_dir=(0, 0, -1), z_dir=(1, 0, 0))):
        with Locations((55.1, -10.95)):
            Circle(SKETCH13_R)
    extrude(amount=-CUT_EXTRUDE5_DEPTH, mode=Mode.SUBTRACT)


solid = part.part
